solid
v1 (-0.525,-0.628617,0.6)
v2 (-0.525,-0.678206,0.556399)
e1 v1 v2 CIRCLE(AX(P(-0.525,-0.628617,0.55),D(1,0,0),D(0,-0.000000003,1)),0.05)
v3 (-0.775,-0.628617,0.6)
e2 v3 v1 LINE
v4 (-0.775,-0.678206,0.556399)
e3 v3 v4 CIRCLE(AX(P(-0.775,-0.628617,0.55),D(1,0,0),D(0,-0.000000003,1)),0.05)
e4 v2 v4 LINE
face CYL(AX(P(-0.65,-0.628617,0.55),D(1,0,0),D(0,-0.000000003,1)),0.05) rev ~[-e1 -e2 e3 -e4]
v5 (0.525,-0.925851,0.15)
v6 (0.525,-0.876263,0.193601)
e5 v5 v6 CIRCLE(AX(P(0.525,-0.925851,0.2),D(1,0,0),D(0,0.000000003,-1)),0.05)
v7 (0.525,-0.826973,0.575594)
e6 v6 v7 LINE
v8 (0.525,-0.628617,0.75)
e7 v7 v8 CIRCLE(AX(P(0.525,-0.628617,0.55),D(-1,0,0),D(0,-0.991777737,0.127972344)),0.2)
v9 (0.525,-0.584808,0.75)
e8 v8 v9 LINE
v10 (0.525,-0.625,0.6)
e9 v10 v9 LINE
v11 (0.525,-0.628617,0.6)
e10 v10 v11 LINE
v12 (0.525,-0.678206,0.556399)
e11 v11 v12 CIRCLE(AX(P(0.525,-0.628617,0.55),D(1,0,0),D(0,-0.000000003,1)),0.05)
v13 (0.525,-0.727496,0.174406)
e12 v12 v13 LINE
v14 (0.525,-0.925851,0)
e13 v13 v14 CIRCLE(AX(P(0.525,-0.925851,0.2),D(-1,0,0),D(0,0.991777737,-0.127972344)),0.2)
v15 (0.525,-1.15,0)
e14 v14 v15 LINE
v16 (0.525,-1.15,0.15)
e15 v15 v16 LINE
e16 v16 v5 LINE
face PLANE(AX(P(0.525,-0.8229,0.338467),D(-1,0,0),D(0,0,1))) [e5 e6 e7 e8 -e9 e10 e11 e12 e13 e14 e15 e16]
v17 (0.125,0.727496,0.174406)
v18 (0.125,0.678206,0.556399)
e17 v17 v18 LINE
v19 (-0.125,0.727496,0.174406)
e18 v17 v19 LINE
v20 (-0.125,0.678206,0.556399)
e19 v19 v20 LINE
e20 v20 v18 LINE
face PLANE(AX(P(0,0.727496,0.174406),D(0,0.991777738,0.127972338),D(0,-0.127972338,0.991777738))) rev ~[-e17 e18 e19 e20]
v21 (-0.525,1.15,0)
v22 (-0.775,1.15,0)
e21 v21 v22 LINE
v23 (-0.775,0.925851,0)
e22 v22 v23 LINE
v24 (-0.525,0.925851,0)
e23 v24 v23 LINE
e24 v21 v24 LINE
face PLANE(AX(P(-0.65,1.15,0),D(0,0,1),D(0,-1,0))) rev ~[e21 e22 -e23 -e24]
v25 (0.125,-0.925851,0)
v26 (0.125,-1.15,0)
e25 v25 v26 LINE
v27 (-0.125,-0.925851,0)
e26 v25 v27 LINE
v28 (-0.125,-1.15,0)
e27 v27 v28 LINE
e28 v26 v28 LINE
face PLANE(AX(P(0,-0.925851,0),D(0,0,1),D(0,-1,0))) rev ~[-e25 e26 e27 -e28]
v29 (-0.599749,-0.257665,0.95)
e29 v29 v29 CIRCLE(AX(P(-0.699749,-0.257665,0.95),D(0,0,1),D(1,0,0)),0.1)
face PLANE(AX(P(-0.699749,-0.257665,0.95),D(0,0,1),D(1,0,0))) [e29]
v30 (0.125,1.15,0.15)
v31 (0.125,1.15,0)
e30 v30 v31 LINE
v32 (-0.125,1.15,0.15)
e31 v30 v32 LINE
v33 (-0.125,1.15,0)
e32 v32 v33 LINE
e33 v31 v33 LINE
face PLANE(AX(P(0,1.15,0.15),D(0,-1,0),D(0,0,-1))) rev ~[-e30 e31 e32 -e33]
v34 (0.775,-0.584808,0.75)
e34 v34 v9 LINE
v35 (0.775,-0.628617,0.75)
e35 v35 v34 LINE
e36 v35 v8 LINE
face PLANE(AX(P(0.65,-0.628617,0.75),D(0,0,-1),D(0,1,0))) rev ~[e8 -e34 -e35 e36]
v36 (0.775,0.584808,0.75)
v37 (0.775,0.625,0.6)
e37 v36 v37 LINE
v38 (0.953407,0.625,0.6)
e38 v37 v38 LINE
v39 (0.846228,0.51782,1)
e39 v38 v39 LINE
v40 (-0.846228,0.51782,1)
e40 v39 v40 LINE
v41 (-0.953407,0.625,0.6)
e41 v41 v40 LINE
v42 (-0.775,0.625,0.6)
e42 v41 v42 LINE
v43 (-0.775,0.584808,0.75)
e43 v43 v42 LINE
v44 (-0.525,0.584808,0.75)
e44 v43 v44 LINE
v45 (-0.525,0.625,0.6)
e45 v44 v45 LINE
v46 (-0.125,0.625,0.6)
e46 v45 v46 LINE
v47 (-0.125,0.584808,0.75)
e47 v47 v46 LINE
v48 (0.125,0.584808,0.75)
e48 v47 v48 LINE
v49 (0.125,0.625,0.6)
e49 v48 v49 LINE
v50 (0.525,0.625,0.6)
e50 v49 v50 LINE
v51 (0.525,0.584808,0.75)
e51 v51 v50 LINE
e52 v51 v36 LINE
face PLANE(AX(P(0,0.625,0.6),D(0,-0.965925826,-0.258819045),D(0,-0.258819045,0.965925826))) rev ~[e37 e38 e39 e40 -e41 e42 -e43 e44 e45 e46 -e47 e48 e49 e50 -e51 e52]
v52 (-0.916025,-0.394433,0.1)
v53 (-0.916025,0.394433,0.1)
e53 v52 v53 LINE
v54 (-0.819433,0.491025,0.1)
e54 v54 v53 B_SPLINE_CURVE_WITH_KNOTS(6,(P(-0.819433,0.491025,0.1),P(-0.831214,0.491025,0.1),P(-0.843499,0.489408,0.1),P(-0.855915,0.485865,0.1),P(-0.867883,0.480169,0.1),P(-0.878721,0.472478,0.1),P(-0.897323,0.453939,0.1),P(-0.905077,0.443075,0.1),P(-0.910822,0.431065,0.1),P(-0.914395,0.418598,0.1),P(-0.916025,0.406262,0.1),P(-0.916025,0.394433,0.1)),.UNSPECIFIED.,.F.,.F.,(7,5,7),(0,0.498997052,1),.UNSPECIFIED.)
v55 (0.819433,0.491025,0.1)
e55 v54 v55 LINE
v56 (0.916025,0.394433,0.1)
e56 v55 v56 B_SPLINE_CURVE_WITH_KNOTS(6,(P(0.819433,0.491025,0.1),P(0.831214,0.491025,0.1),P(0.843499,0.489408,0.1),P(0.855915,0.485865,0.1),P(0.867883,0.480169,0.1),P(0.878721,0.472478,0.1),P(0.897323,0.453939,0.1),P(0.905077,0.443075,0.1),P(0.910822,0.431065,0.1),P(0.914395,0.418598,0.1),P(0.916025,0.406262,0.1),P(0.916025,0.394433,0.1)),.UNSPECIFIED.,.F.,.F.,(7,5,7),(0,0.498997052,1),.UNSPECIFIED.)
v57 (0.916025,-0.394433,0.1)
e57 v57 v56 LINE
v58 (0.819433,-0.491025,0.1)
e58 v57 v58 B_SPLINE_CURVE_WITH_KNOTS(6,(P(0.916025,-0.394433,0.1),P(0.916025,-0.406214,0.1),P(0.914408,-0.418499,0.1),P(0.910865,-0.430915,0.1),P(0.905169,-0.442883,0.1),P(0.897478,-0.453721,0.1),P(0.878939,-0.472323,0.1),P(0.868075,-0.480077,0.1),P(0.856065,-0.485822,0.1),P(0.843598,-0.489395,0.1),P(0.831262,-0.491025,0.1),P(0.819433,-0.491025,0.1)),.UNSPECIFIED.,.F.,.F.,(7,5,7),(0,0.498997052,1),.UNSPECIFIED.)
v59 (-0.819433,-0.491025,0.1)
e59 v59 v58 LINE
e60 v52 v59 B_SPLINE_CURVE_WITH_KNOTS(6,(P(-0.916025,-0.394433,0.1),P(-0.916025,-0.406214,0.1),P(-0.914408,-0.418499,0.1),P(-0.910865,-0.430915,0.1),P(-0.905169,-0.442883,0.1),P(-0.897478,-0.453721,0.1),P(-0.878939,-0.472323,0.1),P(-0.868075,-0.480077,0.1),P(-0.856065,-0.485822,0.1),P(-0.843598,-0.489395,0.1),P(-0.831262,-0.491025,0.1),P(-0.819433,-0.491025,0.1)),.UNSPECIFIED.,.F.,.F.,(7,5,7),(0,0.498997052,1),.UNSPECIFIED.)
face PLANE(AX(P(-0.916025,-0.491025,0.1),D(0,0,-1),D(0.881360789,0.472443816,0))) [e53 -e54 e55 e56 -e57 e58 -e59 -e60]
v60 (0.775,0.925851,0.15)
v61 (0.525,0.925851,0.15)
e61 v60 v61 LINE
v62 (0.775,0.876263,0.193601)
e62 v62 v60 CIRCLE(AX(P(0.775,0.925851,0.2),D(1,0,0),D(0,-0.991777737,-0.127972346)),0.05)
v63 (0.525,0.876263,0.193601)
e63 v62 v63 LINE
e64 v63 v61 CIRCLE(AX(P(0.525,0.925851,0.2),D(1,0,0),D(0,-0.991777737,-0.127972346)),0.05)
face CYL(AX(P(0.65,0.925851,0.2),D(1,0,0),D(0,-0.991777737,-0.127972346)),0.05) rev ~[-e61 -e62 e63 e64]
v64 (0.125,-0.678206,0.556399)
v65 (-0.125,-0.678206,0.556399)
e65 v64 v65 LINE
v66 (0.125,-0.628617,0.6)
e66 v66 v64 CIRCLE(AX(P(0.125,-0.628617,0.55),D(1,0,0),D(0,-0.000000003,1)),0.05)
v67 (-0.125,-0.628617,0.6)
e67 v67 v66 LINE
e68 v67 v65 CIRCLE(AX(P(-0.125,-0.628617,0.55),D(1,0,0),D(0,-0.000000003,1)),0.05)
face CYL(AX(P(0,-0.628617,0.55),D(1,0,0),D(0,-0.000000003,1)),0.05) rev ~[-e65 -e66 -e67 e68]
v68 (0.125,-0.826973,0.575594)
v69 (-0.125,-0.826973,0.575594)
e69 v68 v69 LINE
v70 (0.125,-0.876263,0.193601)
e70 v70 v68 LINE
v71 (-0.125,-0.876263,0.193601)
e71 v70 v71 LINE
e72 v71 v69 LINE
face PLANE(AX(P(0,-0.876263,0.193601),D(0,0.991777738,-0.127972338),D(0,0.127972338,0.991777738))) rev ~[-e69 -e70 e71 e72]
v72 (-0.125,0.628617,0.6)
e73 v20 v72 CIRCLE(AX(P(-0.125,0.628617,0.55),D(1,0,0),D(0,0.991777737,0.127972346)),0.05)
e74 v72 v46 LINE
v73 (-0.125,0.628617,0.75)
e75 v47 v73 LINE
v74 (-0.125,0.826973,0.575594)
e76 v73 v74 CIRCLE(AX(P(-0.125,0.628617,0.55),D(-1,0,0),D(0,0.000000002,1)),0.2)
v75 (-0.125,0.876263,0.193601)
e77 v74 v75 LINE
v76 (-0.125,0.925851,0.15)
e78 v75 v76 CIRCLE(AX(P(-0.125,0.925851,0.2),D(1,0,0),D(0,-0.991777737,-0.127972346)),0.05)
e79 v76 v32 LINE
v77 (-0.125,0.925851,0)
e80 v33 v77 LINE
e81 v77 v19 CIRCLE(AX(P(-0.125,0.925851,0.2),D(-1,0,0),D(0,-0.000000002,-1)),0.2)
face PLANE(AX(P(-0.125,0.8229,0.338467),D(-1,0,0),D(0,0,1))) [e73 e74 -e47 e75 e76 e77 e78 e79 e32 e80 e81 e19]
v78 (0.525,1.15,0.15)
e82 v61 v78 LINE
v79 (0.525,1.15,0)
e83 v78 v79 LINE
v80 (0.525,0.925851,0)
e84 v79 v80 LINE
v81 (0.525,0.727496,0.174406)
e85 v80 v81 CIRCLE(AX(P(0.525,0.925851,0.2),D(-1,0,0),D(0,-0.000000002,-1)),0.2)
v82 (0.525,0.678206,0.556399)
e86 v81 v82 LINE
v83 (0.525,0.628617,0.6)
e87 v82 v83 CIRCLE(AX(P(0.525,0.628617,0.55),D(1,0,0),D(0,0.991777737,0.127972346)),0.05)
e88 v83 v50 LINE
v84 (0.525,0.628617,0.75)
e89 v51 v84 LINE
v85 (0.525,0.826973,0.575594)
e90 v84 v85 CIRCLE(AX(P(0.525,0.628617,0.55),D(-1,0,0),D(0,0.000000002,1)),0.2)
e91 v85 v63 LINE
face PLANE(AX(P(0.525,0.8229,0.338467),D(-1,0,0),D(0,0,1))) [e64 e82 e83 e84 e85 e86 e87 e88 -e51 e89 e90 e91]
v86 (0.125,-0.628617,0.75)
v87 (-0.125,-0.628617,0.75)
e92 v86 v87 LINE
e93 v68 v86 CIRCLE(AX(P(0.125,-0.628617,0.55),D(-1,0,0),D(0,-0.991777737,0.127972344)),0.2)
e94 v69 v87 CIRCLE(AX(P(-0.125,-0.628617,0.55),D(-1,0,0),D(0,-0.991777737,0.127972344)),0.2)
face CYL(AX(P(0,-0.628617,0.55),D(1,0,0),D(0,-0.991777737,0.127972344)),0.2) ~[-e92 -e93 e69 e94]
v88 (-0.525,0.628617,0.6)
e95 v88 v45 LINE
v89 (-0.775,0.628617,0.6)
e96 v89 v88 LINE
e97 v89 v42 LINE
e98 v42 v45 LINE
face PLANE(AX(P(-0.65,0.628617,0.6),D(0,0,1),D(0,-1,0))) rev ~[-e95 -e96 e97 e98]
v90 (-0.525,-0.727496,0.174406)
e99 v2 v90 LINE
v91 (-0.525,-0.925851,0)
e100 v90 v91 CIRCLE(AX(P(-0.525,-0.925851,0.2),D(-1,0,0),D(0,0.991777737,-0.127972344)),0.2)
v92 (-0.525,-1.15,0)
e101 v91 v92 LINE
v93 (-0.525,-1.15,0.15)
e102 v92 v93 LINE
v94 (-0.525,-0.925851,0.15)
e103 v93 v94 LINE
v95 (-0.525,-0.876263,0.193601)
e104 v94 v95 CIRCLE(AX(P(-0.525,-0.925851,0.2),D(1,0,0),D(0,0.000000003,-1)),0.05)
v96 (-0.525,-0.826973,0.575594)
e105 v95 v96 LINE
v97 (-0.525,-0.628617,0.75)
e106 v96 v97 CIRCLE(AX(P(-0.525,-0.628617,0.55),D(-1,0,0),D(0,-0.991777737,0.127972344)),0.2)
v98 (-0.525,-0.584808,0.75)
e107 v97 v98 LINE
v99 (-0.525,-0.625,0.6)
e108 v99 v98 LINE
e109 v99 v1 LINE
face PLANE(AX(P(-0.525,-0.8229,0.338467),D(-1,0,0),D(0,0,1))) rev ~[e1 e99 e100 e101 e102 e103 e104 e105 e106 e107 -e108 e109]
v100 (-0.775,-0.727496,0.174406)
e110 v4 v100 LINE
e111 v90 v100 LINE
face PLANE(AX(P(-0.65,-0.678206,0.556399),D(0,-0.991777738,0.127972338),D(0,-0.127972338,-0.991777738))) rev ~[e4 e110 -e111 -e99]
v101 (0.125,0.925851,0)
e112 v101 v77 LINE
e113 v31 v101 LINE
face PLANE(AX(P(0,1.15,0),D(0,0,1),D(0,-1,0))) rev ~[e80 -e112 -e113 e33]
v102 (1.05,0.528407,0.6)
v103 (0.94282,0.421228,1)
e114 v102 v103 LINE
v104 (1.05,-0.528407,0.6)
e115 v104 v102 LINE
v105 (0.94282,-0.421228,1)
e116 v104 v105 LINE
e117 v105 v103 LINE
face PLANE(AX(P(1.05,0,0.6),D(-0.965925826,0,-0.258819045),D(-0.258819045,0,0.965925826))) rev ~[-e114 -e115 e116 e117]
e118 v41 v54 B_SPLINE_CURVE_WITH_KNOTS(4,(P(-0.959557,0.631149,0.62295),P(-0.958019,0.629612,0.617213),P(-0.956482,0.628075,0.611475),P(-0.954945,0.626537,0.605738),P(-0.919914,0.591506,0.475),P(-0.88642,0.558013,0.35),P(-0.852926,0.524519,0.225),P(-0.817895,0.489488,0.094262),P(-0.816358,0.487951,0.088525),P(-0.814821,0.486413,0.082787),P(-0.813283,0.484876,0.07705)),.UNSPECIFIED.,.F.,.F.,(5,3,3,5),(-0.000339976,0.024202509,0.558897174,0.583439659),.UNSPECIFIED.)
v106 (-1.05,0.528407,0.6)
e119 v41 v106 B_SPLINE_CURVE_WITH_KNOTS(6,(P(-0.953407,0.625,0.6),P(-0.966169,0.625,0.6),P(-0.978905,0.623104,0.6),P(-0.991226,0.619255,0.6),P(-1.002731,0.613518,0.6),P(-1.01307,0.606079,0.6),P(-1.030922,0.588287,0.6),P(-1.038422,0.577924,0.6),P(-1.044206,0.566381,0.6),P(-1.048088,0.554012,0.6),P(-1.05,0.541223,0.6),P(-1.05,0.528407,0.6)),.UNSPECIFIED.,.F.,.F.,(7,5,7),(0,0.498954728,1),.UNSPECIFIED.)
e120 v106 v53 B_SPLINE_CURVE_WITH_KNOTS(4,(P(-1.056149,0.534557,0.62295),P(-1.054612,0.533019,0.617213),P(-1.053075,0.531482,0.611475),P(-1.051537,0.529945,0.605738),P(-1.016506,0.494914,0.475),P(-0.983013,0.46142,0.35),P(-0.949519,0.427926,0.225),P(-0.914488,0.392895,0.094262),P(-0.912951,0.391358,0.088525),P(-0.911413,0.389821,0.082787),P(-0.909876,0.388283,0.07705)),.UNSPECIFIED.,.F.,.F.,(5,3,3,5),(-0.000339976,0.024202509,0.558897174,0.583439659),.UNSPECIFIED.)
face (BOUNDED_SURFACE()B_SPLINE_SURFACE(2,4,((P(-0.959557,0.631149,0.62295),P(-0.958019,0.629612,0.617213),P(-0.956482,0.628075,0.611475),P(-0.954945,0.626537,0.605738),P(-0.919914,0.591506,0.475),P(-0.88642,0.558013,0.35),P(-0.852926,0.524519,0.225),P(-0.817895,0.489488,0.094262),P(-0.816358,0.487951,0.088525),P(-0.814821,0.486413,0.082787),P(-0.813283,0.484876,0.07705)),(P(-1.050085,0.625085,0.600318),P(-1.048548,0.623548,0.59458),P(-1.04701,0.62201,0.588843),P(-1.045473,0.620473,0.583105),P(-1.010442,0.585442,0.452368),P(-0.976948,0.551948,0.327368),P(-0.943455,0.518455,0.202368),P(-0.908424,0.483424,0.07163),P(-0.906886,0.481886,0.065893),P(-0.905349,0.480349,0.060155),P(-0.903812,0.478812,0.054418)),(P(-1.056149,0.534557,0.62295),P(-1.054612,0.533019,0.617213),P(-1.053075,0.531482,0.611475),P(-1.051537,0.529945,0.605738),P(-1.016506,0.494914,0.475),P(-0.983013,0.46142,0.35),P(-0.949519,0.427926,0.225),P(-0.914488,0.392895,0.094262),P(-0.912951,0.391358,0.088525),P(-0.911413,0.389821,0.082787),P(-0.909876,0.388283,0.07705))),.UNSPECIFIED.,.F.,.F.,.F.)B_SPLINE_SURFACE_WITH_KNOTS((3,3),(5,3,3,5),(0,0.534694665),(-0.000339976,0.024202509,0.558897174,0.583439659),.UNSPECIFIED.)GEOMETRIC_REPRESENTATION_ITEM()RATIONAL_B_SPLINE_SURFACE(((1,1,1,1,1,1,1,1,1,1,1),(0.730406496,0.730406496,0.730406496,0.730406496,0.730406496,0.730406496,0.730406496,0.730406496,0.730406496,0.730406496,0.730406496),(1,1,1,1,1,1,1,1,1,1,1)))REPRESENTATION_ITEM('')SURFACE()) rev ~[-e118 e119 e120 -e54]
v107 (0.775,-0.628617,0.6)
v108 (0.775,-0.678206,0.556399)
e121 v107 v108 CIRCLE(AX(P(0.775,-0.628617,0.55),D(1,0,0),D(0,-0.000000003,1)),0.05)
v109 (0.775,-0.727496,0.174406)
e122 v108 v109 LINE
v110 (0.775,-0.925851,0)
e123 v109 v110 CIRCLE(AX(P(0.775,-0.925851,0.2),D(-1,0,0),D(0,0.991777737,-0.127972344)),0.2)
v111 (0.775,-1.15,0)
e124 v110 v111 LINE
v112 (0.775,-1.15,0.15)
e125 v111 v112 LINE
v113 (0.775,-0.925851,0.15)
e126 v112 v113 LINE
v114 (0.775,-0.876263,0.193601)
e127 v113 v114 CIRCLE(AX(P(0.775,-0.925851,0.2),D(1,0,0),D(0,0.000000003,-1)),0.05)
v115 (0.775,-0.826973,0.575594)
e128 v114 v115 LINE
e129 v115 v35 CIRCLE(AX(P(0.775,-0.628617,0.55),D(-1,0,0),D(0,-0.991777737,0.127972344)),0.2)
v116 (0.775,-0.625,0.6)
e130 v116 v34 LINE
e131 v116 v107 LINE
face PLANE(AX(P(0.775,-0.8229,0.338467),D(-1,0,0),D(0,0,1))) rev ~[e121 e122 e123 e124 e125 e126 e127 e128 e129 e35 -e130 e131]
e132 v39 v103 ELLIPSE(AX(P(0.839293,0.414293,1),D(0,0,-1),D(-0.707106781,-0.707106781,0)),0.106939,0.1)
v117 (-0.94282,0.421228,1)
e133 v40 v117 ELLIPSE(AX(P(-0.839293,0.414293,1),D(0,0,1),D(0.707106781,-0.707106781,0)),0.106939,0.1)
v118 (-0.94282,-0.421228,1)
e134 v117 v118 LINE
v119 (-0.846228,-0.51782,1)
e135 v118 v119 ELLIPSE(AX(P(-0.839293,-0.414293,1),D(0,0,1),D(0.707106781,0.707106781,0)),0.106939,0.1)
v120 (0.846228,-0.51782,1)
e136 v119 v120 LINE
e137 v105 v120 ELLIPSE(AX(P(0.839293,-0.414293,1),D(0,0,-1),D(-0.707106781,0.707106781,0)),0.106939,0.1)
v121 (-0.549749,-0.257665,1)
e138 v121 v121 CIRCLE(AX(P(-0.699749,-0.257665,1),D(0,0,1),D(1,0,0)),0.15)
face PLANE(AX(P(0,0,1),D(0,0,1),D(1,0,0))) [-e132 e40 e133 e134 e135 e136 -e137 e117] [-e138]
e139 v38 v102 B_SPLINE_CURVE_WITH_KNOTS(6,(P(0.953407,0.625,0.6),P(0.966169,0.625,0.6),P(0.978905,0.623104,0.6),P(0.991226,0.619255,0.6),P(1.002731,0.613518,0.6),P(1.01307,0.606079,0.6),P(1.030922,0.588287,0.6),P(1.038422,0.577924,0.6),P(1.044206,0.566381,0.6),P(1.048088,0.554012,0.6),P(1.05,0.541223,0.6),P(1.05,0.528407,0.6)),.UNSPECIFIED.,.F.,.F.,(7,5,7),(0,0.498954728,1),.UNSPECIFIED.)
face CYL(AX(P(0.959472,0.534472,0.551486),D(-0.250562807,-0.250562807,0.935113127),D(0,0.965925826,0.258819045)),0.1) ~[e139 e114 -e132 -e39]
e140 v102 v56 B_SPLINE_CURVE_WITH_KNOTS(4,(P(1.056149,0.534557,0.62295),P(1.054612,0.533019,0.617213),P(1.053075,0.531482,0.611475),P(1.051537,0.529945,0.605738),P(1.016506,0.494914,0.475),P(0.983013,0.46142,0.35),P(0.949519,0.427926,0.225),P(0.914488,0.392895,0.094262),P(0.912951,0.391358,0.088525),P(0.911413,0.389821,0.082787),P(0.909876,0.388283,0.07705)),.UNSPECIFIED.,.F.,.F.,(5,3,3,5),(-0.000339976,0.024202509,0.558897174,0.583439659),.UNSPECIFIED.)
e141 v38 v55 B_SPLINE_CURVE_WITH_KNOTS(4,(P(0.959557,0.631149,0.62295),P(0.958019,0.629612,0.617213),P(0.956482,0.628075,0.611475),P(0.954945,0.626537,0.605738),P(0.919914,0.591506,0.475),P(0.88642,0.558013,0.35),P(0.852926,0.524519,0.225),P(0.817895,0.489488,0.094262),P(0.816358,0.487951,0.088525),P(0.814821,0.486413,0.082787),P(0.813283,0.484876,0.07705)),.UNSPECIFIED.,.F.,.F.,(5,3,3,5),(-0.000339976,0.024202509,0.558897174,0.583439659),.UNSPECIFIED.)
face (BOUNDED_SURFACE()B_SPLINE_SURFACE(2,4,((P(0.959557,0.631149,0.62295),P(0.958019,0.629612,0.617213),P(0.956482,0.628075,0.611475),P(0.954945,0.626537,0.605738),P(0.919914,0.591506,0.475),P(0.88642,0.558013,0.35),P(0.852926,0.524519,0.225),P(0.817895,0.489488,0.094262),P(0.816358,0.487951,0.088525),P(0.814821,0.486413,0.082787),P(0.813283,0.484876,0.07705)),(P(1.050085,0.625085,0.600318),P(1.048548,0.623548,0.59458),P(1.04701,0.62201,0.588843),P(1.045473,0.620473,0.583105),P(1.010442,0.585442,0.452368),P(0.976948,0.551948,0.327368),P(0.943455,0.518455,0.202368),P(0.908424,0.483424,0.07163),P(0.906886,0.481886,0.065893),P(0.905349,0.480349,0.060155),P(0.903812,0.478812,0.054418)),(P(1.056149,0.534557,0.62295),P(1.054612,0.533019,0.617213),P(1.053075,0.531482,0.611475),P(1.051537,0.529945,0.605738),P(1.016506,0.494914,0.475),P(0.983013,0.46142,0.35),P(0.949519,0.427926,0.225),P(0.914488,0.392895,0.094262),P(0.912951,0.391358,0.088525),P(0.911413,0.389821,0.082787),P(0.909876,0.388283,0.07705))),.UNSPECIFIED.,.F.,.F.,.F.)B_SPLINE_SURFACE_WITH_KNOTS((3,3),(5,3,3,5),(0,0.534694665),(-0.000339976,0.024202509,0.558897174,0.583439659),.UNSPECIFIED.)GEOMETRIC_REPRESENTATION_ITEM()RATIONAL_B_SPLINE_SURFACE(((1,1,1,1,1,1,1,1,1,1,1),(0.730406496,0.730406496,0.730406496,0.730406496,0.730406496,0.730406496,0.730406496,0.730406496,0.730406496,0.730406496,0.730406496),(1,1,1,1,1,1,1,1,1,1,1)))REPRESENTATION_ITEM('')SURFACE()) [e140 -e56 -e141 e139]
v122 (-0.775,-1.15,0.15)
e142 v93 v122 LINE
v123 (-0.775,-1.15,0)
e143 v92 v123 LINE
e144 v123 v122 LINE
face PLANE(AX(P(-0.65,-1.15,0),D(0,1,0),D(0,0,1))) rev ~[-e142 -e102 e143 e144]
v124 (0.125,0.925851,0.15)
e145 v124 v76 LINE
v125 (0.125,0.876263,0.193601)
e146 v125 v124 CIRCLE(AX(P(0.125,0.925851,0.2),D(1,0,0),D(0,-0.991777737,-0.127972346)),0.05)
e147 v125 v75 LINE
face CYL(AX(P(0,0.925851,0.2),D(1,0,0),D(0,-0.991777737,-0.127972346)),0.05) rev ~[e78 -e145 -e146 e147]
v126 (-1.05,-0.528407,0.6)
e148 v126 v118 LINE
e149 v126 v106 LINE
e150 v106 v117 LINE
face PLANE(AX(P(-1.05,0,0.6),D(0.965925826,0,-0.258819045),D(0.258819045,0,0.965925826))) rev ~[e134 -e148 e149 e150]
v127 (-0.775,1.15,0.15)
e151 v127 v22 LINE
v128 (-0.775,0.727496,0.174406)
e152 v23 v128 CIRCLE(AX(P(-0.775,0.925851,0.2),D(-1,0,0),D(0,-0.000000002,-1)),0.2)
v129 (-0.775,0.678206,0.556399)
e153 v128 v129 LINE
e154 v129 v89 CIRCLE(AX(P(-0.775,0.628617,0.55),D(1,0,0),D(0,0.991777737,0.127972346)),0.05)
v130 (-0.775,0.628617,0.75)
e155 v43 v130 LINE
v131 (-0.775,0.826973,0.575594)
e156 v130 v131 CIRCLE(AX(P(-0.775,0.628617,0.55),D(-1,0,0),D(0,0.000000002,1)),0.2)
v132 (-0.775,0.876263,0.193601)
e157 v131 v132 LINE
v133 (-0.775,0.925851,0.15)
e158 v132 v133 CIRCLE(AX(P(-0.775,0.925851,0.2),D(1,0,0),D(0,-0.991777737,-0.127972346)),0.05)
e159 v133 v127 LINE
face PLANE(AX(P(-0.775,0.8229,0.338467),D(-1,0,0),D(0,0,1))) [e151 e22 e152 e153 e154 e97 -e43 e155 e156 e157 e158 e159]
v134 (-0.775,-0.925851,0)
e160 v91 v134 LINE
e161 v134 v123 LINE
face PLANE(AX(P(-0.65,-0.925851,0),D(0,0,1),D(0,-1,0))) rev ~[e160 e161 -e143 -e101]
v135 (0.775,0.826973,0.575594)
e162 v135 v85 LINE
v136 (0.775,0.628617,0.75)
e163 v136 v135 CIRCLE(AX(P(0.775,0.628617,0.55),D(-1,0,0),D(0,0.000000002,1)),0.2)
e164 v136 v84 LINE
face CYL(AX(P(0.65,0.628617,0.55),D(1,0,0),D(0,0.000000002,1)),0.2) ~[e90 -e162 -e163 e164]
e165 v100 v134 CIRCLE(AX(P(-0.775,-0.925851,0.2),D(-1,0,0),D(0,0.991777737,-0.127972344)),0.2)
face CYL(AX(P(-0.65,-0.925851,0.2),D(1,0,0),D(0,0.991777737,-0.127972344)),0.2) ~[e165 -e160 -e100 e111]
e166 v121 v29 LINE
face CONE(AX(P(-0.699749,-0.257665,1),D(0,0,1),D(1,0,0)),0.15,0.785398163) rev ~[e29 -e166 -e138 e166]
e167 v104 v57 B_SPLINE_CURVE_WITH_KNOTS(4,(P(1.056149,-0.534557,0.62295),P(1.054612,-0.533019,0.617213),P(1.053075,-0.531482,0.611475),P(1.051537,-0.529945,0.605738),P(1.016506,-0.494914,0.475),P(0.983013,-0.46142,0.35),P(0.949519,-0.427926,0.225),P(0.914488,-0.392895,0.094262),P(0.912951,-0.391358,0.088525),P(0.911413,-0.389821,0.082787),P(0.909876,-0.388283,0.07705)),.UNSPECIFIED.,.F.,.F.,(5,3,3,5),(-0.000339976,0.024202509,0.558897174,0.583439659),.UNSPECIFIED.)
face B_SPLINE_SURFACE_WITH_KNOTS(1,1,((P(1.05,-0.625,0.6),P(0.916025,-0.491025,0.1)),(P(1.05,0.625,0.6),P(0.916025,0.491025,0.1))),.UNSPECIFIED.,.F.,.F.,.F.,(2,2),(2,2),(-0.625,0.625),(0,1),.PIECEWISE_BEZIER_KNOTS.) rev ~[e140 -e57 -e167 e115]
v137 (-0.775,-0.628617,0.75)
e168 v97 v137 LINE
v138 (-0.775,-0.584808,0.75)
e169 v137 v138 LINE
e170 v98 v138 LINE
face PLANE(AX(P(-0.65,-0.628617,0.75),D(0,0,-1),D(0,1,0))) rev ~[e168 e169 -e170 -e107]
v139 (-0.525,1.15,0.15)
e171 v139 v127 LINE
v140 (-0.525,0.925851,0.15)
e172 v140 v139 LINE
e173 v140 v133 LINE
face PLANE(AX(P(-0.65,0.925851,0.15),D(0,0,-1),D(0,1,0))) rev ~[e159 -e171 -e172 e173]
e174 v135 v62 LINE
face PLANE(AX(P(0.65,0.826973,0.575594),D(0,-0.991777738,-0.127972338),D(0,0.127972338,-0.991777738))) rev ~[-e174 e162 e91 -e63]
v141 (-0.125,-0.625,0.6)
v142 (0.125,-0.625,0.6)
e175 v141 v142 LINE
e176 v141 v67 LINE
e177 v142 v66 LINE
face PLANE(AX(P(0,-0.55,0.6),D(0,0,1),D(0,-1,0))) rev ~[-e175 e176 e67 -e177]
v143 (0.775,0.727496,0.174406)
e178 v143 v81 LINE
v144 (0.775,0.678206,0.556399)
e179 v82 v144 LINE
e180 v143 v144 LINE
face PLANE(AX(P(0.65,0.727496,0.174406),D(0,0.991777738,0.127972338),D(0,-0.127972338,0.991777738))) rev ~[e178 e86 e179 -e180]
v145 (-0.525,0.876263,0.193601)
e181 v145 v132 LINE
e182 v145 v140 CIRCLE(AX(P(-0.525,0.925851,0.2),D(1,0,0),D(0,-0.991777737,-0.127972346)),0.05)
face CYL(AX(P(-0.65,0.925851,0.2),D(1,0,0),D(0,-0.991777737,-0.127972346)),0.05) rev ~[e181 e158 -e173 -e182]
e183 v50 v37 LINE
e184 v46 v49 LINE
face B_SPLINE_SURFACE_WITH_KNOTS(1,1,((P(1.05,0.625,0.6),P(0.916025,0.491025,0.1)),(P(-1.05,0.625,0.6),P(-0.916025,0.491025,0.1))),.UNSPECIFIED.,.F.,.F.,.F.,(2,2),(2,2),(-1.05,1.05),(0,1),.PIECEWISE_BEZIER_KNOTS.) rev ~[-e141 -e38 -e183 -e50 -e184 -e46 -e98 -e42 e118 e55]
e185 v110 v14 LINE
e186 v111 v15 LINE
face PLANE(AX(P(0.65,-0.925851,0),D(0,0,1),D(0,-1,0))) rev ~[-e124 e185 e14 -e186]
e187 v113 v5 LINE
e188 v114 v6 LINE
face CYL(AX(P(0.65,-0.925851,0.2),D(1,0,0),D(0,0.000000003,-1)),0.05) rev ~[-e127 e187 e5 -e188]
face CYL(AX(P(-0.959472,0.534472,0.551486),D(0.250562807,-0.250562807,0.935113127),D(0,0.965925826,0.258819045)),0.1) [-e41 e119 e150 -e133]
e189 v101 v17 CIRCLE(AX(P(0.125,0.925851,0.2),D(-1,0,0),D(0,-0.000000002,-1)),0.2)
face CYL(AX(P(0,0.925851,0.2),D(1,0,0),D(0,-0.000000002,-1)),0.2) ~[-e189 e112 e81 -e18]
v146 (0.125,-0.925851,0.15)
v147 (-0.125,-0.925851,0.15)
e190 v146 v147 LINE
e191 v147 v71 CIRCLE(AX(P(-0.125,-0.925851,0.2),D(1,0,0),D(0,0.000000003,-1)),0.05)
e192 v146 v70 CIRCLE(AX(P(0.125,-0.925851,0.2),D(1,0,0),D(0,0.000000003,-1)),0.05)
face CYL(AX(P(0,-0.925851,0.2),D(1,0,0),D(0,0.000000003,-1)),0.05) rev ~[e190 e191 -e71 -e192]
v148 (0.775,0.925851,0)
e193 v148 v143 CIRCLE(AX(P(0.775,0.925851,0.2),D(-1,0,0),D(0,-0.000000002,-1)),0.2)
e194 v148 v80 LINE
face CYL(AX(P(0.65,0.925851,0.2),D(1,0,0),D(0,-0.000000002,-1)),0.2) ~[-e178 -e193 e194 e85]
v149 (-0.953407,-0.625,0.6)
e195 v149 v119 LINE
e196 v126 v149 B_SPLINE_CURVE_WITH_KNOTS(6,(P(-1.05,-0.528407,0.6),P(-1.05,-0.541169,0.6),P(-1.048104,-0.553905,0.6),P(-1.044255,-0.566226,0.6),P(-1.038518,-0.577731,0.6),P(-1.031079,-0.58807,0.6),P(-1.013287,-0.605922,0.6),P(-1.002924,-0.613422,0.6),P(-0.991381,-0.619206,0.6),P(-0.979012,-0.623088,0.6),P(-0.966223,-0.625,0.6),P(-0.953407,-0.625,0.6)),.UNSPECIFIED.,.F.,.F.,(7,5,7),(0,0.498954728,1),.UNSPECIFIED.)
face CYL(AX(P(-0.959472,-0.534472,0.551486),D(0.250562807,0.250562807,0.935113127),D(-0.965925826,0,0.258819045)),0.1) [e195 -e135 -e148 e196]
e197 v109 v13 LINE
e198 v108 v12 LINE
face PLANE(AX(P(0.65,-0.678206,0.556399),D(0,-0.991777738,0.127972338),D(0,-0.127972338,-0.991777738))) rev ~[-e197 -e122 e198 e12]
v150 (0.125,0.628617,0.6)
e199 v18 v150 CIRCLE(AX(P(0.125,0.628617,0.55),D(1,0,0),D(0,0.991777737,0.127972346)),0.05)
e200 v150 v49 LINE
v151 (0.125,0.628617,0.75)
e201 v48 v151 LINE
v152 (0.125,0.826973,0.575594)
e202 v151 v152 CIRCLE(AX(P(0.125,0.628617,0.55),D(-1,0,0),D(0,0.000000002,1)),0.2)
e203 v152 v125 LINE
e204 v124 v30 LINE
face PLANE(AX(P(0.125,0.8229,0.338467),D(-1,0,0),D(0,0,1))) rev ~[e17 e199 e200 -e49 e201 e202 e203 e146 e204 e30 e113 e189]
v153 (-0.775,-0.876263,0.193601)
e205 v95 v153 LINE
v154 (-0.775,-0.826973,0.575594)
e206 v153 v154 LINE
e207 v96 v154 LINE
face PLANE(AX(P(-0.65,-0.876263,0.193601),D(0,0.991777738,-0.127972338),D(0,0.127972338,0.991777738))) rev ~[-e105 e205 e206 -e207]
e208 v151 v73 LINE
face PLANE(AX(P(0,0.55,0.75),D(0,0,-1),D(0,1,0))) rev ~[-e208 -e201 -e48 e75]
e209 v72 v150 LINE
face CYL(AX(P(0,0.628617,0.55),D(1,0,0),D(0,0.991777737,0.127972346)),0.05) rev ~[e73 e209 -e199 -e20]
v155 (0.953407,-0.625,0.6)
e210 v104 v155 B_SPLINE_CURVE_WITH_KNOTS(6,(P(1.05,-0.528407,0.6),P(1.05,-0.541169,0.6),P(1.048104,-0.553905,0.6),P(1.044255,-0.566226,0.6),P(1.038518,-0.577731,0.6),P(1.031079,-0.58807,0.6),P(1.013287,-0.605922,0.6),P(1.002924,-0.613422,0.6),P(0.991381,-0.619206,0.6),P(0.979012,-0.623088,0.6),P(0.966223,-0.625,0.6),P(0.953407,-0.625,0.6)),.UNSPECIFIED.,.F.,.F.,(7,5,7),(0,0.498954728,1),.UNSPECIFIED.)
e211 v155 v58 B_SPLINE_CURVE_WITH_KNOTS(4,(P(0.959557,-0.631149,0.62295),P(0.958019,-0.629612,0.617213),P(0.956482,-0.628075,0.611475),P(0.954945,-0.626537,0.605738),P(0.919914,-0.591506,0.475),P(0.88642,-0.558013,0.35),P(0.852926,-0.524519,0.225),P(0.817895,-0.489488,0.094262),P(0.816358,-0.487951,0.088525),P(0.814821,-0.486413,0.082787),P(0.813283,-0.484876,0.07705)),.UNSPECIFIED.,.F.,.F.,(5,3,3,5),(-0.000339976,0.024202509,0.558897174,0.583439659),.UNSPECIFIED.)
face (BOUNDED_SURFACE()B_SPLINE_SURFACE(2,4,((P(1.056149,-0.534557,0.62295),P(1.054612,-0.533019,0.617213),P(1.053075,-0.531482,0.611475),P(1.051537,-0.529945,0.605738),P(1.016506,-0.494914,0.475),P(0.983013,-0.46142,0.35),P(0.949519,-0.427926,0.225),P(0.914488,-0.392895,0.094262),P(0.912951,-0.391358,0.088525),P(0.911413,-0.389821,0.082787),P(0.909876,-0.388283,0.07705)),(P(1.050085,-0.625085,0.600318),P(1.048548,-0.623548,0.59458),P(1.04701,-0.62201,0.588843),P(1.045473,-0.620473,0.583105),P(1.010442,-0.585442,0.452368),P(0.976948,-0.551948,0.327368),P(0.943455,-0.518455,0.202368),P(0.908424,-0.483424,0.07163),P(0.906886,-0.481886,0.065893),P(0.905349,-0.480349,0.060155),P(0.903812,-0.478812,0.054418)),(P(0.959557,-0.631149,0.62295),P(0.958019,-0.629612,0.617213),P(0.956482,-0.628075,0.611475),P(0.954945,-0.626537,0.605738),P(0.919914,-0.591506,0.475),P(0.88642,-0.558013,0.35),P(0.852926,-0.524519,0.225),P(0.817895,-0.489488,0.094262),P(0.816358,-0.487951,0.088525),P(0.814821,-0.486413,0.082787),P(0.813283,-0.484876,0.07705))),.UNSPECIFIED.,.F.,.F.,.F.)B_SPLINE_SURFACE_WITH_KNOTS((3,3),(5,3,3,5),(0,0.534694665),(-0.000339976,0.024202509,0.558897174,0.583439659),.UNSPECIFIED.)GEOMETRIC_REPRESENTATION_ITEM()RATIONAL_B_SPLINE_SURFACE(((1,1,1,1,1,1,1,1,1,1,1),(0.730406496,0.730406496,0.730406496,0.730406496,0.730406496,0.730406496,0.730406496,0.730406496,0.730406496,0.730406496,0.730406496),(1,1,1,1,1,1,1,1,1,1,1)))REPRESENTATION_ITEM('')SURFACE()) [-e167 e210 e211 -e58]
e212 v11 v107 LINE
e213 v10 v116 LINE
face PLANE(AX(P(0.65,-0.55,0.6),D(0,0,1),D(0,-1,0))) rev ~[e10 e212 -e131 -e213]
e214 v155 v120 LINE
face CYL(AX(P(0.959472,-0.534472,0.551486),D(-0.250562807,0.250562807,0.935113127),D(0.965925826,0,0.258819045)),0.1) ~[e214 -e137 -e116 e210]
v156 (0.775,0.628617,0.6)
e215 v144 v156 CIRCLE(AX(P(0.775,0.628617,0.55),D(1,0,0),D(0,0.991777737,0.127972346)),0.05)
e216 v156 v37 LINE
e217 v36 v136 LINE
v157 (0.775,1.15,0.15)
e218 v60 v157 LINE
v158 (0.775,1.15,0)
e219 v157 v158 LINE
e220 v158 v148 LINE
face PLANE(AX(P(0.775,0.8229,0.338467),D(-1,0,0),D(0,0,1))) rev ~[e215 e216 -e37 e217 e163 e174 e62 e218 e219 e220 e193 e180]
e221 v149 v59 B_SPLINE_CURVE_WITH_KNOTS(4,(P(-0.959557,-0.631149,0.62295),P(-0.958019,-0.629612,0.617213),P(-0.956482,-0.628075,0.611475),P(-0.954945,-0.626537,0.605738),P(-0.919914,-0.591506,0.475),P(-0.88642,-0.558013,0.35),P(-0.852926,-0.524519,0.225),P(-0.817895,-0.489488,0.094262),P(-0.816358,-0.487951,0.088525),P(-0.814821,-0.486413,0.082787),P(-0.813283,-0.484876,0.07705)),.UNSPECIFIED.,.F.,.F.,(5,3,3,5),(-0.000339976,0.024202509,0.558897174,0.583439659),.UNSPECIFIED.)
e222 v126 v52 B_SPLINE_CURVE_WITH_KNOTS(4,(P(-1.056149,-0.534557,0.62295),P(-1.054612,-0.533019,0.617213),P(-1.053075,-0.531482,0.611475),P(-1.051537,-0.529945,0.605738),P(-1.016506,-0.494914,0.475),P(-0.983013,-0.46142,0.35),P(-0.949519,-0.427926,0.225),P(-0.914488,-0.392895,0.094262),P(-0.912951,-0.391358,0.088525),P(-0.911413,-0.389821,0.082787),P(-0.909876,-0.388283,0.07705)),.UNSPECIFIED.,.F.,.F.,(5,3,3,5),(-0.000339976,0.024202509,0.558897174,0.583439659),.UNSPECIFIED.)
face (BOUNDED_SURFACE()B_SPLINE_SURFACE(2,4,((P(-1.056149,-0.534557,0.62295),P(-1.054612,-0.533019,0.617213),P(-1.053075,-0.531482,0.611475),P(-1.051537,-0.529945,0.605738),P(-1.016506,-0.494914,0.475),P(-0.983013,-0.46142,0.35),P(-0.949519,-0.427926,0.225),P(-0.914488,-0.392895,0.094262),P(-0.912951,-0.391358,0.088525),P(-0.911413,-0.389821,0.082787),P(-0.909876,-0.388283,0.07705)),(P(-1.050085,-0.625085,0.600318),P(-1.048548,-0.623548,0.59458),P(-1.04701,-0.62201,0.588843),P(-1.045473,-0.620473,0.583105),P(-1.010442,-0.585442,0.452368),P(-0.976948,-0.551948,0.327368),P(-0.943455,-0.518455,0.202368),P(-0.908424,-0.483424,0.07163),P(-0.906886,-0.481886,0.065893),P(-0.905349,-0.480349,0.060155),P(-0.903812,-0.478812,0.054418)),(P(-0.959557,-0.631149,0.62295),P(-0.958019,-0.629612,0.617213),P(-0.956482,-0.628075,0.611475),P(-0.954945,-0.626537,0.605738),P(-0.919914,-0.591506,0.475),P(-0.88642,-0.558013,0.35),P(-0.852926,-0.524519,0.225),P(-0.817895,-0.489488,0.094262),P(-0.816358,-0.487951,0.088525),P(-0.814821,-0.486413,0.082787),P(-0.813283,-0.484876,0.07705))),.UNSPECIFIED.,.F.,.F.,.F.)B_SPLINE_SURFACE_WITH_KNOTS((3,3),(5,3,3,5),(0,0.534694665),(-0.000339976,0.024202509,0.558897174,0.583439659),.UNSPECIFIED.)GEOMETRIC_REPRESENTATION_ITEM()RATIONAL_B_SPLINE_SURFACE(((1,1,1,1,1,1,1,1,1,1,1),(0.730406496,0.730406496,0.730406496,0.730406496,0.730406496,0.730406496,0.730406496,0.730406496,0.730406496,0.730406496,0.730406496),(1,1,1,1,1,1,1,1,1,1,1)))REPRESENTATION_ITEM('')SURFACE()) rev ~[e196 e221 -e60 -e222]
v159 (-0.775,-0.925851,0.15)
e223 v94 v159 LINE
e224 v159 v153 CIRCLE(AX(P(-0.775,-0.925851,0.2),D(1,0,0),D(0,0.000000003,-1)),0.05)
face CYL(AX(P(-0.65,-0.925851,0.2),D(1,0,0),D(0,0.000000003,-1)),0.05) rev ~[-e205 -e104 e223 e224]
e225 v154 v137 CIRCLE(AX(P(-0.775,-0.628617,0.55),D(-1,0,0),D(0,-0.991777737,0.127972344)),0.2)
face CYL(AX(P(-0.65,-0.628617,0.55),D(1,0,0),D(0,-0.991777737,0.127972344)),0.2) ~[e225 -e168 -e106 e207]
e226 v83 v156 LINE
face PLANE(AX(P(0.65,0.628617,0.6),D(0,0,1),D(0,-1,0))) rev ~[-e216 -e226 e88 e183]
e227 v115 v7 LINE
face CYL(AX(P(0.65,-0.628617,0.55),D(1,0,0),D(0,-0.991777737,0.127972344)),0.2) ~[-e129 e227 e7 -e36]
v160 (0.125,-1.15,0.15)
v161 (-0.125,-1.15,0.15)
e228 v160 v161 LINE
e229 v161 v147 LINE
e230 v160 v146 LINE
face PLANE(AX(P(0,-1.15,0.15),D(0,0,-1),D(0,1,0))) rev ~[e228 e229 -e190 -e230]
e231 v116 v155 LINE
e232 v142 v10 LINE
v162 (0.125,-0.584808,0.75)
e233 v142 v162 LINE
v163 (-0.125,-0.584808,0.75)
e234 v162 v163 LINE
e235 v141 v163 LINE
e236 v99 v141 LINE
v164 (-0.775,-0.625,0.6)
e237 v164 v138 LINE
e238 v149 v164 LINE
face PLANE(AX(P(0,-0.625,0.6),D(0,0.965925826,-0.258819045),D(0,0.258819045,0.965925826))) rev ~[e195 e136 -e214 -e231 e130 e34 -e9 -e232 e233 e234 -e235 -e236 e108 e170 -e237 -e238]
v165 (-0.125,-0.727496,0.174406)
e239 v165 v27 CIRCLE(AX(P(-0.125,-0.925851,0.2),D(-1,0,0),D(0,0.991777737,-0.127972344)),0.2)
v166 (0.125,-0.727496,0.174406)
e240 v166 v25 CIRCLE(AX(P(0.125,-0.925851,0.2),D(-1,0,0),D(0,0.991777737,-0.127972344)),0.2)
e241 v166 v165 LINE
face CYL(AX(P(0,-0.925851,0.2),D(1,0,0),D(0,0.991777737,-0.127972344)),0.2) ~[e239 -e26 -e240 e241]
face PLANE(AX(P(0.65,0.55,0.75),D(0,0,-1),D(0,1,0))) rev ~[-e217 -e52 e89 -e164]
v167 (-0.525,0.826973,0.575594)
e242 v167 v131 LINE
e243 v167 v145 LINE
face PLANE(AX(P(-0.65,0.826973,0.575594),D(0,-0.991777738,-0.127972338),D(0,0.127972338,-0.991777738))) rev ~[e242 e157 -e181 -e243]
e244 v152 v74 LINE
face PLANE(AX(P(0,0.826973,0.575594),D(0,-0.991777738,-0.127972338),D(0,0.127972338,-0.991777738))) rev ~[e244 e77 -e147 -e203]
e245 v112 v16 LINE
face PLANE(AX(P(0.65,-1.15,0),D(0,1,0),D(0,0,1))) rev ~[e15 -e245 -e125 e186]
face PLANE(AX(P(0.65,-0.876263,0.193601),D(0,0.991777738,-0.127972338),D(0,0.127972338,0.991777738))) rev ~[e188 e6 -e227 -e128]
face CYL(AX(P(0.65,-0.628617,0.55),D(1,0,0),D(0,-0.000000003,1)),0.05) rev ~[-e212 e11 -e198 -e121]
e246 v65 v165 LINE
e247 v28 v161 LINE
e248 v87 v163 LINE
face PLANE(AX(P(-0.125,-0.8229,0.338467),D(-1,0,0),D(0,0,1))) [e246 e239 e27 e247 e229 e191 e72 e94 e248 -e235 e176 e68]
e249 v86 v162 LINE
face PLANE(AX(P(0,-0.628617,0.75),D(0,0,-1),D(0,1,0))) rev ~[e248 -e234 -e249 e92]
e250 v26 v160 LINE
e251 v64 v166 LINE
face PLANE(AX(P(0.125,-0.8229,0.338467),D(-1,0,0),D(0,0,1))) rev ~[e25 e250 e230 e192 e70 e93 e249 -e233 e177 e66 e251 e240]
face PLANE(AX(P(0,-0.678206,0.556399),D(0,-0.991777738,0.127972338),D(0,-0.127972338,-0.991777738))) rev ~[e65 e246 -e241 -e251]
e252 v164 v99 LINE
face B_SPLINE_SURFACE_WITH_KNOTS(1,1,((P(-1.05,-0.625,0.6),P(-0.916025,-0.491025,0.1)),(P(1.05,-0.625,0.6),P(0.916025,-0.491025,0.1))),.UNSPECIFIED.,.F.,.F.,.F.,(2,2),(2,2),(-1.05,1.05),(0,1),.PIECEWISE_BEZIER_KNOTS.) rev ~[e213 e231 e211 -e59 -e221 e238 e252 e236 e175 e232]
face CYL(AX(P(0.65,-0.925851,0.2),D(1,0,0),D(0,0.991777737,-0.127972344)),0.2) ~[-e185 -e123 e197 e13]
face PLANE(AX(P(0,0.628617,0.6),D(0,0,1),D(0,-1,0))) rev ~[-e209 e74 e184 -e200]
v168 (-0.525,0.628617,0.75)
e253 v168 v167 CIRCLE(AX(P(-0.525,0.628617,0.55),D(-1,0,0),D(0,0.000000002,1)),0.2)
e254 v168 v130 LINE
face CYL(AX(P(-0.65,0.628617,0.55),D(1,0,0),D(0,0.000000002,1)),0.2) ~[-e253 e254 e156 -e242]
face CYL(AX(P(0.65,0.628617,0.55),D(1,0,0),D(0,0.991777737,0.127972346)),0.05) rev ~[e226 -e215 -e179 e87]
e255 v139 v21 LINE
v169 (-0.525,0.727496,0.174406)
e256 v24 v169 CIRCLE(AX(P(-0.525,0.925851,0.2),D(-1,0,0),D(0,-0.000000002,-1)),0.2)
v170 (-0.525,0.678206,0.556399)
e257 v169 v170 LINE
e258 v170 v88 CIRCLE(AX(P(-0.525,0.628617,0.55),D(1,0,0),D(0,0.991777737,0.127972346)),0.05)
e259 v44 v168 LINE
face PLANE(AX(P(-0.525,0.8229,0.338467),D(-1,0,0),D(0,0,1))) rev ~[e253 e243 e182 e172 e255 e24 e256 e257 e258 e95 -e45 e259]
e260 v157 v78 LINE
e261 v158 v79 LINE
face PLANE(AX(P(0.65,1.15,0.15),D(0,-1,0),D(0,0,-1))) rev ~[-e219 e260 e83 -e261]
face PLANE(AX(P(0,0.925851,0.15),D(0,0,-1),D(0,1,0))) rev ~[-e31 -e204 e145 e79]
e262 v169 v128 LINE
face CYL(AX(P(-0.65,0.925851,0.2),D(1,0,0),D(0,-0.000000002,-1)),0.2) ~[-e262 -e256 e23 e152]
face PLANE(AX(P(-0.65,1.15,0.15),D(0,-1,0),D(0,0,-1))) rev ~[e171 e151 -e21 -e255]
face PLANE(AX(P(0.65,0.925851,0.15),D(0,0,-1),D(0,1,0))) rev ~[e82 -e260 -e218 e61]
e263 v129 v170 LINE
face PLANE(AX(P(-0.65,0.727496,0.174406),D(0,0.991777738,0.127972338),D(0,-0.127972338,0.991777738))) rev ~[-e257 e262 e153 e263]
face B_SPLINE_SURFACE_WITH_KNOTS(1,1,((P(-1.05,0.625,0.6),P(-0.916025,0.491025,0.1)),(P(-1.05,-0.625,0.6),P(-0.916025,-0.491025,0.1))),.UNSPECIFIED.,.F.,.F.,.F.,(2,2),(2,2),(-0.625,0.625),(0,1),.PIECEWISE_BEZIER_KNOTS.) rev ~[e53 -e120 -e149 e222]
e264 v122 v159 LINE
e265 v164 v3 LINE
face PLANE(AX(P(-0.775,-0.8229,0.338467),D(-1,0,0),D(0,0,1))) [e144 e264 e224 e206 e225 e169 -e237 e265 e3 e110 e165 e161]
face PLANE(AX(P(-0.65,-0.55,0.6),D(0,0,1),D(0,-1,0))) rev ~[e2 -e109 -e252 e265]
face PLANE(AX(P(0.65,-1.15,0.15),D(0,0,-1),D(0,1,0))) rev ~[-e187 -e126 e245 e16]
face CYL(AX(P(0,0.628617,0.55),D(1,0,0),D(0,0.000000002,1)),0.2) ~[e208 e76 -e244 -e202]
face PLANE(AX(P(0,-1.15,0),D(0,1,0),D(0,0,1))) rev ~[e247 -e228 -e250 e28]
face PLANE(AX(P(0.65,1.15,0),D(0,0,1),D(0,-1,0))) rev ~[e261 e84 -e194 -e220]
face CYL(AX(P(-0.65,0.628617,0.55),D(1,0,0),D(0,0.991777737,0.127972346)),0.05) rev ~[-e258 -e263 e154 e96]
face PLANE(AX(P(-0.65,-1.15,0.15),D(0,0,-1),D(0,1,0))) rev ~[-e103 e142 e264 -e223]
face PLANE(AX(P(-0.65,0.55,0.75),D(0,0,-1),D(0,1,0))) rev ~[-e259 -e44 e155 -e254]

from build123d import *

# Parameters (mm, degrees)
EXTRUDE_START             = 0.6
SKETCH_1_W                = 2.1
SKETCH_1_H                = 1.25
EXTRUDE_1_DEPTH           = 0.4
EXTRUDE_1_TAPER           = 15
EXTRUDE_1_OTHER_WAY_DEPTH = 0.5
EXTRUDE_1_OTHER_WAY_TAPER = 15
EXTRUDE_START_2           = 0.65
EXTRUDE_4_DEPTH           = 0.125
EXTRUDE_5_DEPTH           = 0.125
PATTERN_LINEAR_2_COUNT    = 3
PATTERN_LINEAR_2_PITCH    = 0.65
PATTERN_LINEAR_3_COUNT    = 3
PATTERN_LINEAR_3_PITCH    = 0.65
FILLET_3_R                = 0.1
SKETCH_3_R                = 0.15
CUT_EXTRUDE_6_DEPTH       = 0.05
CUT_EXTRUDE_6_DRAFT       = -45


with BuildPart() as part:
    # Sketch 1 → Extrude 1 (new body)
    with BuildSketch(Plane.XY.offset(EXTRUDE_START)):
        Rectangle(SKETCH_1_W, SKETCH_1_H)
    extrude(amount=EXTRUDE_1_DEPTH, taper=EXTRUDE_1_TAPER)

    # Sketch 1 → Extrude 1 other way (add)
    with BuildSketch(Plane.XY.offset(EXTRUDE_START)):
        Rectangle(SKETCH_1_W, SKETCH_1_H)
    extrude(amount=-EXTRUDE_1_OTHER_WAY_DEPTH, taper=EXTRUDE_1_OTHER_WAY_TAPER)

    # Sketch 2 → Extrude 4 (add, symmetric)
    with BuildSketch(Plane(origin=(0, 0, 0), x_dir=(0, 0, -1), z_dir=(1, 0, 0)).offset(EXTRUDE_START_2)):
        with BuildLine():
            Line((-0.6, 0.55), (-0.75, 0.55))
            Line((-0.75, 0.55), (-0.75, 0.628617172))
            ThreePointArc((-0.75, 0.628617172), (-0.700198025, 0.760679859), (-0.575594468, 0.82697272))
            Line((-0.575594468, 0.82697272), (-0.193601383, 0.876262542))
            ThreePointArc((-0.193601383, 0.876262542), (-0.162450494, 0.892835757), (-0.15, 0.925851429))
            Line((-0.15, 0.925851429), (-0.15, 1.15))
            Line((-0.15, 1.15), (0, 1.15))
            Line((0, 1.15), (0, 0.925851429))
            ThreePointArc((0, 0.925851429), (-0.049801975, 0.793788742), (-0.174405532, 0.727495881))
            Line((-0.174405532, 0.727495881), (-0.556398617, 0.678206059))
            ThreePointArc((-0.556398617, 0.678206059), (-0.587549506, 0.661632844), (-0.6, 0.628617172))
            Line((-0.6, 0.628617172), (-0.6, 0.55))
        make_face()
    extrude_4 = extrude(amount=EXTRUDE_4_DEPTH, both=True)

    # Sketch 2_4 → Extrude 5 (add, symmetric)
    with BuildSketch(Plane(origin=(0, 0, 0), x_dir=(0, 0, -1), z_dir=(1, 0, 0)).offset(EXTRUDE_START_2)):
        with BuildLine():
            ThreePointArc((-0.6, -0.628617172), (-0.587549506, -0.661632844), (-0.556398617, -0.678206059))
            Line((-0.556398617, -0.678206059), (-0.174405532, -0.727495881))
            ThreePointArc((-0.174405532, -0.727495881), (-0.049801975, -0.793788742), (0, -0.925851429))
            Line((0, -0.925851429), (0, -1.15))
            Line((0, -1.15), (-0.15, -1.15))
            Line((-0.15, -1.15), (-0.15, -0.925851429))
            ThreePointArc((-0.15, -0.925851429), (-0.162450494, -0.892835757), (-0.193601383, -0.876262542))
            Line((-0.193601383, -0.876262542), (-0.575594468, -0.82697272))
            ThreePointArc((-0.575594468, -0.82697272), (-0.700198025, -0.760679859), (-0.75, -0.628617172))
            Line((-0.75, -0.628617172), (-0.75, -0.55))
            Line((-0.75, -0.55), (-0.6, -0.55))
            Line((-0.6, -0.55), (-0.6, -0.628617172))
        make_face()
    extrude_5 = extrude(amount=EXTRUDE_5_DEPTH, both=True)

    # Pattern Linear 2: Extrude 5 ×3
    with Locations(*[(-i * PATTERN_LINEAR_2_PITCH, 0, 0) for i in range(1, PATTERN_LINEAR_2_COUNT)]):
        add(extrude_5)

    # Pattern Linear 3: Extrude 4 ×3
    with Locations(*[(-i * PATTERN_LINEAR_3_PITCH, 0, 0) for i in range(1, PATTERN_LINEAR_3_COUNT)]):
        add(extrude_4)

    # Fillet 3
    fillet_3_edges = [part.edges().sort_by_distance(p)[0] for p in [
        (0.996410162, -0.571410162, 0.8),
        (0.996410162, 0.571410162, 0.8),
        (-0.996410162, 0.571410162, 0.8),
        (-0.996410162, -0.571410162, 0.8),
        (0.983012702, -0.558012702, 0.35),
        (-0.983012702, -0.558012702, 0.35),
        (-0.983012702, 0.558012702, 0.35),
        (0.983012702, 0.558012702, 0.35),
    ]]
    fillet(fillet_3_edges, radius=FILLET_3_R)


with BuildPart() as cut_extrude_6_tool:
    # Sketch 3 → Cut-Extrude 6 (with draft: the straight prism first)
    with BuildSketch(Plane.XY.offset(1)):
        with Locations((-0.69974874, -0.257664746)):
            Circle(SKETCH_3_R)
    extrude(amount=-CUT_EXTRUDE_6_DEPTH)
    # Cut-Extrude 6: the draft: its side faces are tilted about the plane it starts from
    cut_extrude_6_sides = [cut_extrude_6_tool.faces().sort_by_distance(p)[0] for p in [
        (-0.84974874, -0.257664746, 0.975),
    ]]
    draft(cut_extrude_6_sides, Plane.XY.offset(1), CUT_EXTRUDE_6_DRAFT)


with BuildPart() as part_1:
    add(part.part)

    # Cut-Extrude 6: cut by cut_extrude_6_tool
    add(cut_extrude_6_tool.part, mode=Mode.SUBTRACT)


solid = part_1.part
